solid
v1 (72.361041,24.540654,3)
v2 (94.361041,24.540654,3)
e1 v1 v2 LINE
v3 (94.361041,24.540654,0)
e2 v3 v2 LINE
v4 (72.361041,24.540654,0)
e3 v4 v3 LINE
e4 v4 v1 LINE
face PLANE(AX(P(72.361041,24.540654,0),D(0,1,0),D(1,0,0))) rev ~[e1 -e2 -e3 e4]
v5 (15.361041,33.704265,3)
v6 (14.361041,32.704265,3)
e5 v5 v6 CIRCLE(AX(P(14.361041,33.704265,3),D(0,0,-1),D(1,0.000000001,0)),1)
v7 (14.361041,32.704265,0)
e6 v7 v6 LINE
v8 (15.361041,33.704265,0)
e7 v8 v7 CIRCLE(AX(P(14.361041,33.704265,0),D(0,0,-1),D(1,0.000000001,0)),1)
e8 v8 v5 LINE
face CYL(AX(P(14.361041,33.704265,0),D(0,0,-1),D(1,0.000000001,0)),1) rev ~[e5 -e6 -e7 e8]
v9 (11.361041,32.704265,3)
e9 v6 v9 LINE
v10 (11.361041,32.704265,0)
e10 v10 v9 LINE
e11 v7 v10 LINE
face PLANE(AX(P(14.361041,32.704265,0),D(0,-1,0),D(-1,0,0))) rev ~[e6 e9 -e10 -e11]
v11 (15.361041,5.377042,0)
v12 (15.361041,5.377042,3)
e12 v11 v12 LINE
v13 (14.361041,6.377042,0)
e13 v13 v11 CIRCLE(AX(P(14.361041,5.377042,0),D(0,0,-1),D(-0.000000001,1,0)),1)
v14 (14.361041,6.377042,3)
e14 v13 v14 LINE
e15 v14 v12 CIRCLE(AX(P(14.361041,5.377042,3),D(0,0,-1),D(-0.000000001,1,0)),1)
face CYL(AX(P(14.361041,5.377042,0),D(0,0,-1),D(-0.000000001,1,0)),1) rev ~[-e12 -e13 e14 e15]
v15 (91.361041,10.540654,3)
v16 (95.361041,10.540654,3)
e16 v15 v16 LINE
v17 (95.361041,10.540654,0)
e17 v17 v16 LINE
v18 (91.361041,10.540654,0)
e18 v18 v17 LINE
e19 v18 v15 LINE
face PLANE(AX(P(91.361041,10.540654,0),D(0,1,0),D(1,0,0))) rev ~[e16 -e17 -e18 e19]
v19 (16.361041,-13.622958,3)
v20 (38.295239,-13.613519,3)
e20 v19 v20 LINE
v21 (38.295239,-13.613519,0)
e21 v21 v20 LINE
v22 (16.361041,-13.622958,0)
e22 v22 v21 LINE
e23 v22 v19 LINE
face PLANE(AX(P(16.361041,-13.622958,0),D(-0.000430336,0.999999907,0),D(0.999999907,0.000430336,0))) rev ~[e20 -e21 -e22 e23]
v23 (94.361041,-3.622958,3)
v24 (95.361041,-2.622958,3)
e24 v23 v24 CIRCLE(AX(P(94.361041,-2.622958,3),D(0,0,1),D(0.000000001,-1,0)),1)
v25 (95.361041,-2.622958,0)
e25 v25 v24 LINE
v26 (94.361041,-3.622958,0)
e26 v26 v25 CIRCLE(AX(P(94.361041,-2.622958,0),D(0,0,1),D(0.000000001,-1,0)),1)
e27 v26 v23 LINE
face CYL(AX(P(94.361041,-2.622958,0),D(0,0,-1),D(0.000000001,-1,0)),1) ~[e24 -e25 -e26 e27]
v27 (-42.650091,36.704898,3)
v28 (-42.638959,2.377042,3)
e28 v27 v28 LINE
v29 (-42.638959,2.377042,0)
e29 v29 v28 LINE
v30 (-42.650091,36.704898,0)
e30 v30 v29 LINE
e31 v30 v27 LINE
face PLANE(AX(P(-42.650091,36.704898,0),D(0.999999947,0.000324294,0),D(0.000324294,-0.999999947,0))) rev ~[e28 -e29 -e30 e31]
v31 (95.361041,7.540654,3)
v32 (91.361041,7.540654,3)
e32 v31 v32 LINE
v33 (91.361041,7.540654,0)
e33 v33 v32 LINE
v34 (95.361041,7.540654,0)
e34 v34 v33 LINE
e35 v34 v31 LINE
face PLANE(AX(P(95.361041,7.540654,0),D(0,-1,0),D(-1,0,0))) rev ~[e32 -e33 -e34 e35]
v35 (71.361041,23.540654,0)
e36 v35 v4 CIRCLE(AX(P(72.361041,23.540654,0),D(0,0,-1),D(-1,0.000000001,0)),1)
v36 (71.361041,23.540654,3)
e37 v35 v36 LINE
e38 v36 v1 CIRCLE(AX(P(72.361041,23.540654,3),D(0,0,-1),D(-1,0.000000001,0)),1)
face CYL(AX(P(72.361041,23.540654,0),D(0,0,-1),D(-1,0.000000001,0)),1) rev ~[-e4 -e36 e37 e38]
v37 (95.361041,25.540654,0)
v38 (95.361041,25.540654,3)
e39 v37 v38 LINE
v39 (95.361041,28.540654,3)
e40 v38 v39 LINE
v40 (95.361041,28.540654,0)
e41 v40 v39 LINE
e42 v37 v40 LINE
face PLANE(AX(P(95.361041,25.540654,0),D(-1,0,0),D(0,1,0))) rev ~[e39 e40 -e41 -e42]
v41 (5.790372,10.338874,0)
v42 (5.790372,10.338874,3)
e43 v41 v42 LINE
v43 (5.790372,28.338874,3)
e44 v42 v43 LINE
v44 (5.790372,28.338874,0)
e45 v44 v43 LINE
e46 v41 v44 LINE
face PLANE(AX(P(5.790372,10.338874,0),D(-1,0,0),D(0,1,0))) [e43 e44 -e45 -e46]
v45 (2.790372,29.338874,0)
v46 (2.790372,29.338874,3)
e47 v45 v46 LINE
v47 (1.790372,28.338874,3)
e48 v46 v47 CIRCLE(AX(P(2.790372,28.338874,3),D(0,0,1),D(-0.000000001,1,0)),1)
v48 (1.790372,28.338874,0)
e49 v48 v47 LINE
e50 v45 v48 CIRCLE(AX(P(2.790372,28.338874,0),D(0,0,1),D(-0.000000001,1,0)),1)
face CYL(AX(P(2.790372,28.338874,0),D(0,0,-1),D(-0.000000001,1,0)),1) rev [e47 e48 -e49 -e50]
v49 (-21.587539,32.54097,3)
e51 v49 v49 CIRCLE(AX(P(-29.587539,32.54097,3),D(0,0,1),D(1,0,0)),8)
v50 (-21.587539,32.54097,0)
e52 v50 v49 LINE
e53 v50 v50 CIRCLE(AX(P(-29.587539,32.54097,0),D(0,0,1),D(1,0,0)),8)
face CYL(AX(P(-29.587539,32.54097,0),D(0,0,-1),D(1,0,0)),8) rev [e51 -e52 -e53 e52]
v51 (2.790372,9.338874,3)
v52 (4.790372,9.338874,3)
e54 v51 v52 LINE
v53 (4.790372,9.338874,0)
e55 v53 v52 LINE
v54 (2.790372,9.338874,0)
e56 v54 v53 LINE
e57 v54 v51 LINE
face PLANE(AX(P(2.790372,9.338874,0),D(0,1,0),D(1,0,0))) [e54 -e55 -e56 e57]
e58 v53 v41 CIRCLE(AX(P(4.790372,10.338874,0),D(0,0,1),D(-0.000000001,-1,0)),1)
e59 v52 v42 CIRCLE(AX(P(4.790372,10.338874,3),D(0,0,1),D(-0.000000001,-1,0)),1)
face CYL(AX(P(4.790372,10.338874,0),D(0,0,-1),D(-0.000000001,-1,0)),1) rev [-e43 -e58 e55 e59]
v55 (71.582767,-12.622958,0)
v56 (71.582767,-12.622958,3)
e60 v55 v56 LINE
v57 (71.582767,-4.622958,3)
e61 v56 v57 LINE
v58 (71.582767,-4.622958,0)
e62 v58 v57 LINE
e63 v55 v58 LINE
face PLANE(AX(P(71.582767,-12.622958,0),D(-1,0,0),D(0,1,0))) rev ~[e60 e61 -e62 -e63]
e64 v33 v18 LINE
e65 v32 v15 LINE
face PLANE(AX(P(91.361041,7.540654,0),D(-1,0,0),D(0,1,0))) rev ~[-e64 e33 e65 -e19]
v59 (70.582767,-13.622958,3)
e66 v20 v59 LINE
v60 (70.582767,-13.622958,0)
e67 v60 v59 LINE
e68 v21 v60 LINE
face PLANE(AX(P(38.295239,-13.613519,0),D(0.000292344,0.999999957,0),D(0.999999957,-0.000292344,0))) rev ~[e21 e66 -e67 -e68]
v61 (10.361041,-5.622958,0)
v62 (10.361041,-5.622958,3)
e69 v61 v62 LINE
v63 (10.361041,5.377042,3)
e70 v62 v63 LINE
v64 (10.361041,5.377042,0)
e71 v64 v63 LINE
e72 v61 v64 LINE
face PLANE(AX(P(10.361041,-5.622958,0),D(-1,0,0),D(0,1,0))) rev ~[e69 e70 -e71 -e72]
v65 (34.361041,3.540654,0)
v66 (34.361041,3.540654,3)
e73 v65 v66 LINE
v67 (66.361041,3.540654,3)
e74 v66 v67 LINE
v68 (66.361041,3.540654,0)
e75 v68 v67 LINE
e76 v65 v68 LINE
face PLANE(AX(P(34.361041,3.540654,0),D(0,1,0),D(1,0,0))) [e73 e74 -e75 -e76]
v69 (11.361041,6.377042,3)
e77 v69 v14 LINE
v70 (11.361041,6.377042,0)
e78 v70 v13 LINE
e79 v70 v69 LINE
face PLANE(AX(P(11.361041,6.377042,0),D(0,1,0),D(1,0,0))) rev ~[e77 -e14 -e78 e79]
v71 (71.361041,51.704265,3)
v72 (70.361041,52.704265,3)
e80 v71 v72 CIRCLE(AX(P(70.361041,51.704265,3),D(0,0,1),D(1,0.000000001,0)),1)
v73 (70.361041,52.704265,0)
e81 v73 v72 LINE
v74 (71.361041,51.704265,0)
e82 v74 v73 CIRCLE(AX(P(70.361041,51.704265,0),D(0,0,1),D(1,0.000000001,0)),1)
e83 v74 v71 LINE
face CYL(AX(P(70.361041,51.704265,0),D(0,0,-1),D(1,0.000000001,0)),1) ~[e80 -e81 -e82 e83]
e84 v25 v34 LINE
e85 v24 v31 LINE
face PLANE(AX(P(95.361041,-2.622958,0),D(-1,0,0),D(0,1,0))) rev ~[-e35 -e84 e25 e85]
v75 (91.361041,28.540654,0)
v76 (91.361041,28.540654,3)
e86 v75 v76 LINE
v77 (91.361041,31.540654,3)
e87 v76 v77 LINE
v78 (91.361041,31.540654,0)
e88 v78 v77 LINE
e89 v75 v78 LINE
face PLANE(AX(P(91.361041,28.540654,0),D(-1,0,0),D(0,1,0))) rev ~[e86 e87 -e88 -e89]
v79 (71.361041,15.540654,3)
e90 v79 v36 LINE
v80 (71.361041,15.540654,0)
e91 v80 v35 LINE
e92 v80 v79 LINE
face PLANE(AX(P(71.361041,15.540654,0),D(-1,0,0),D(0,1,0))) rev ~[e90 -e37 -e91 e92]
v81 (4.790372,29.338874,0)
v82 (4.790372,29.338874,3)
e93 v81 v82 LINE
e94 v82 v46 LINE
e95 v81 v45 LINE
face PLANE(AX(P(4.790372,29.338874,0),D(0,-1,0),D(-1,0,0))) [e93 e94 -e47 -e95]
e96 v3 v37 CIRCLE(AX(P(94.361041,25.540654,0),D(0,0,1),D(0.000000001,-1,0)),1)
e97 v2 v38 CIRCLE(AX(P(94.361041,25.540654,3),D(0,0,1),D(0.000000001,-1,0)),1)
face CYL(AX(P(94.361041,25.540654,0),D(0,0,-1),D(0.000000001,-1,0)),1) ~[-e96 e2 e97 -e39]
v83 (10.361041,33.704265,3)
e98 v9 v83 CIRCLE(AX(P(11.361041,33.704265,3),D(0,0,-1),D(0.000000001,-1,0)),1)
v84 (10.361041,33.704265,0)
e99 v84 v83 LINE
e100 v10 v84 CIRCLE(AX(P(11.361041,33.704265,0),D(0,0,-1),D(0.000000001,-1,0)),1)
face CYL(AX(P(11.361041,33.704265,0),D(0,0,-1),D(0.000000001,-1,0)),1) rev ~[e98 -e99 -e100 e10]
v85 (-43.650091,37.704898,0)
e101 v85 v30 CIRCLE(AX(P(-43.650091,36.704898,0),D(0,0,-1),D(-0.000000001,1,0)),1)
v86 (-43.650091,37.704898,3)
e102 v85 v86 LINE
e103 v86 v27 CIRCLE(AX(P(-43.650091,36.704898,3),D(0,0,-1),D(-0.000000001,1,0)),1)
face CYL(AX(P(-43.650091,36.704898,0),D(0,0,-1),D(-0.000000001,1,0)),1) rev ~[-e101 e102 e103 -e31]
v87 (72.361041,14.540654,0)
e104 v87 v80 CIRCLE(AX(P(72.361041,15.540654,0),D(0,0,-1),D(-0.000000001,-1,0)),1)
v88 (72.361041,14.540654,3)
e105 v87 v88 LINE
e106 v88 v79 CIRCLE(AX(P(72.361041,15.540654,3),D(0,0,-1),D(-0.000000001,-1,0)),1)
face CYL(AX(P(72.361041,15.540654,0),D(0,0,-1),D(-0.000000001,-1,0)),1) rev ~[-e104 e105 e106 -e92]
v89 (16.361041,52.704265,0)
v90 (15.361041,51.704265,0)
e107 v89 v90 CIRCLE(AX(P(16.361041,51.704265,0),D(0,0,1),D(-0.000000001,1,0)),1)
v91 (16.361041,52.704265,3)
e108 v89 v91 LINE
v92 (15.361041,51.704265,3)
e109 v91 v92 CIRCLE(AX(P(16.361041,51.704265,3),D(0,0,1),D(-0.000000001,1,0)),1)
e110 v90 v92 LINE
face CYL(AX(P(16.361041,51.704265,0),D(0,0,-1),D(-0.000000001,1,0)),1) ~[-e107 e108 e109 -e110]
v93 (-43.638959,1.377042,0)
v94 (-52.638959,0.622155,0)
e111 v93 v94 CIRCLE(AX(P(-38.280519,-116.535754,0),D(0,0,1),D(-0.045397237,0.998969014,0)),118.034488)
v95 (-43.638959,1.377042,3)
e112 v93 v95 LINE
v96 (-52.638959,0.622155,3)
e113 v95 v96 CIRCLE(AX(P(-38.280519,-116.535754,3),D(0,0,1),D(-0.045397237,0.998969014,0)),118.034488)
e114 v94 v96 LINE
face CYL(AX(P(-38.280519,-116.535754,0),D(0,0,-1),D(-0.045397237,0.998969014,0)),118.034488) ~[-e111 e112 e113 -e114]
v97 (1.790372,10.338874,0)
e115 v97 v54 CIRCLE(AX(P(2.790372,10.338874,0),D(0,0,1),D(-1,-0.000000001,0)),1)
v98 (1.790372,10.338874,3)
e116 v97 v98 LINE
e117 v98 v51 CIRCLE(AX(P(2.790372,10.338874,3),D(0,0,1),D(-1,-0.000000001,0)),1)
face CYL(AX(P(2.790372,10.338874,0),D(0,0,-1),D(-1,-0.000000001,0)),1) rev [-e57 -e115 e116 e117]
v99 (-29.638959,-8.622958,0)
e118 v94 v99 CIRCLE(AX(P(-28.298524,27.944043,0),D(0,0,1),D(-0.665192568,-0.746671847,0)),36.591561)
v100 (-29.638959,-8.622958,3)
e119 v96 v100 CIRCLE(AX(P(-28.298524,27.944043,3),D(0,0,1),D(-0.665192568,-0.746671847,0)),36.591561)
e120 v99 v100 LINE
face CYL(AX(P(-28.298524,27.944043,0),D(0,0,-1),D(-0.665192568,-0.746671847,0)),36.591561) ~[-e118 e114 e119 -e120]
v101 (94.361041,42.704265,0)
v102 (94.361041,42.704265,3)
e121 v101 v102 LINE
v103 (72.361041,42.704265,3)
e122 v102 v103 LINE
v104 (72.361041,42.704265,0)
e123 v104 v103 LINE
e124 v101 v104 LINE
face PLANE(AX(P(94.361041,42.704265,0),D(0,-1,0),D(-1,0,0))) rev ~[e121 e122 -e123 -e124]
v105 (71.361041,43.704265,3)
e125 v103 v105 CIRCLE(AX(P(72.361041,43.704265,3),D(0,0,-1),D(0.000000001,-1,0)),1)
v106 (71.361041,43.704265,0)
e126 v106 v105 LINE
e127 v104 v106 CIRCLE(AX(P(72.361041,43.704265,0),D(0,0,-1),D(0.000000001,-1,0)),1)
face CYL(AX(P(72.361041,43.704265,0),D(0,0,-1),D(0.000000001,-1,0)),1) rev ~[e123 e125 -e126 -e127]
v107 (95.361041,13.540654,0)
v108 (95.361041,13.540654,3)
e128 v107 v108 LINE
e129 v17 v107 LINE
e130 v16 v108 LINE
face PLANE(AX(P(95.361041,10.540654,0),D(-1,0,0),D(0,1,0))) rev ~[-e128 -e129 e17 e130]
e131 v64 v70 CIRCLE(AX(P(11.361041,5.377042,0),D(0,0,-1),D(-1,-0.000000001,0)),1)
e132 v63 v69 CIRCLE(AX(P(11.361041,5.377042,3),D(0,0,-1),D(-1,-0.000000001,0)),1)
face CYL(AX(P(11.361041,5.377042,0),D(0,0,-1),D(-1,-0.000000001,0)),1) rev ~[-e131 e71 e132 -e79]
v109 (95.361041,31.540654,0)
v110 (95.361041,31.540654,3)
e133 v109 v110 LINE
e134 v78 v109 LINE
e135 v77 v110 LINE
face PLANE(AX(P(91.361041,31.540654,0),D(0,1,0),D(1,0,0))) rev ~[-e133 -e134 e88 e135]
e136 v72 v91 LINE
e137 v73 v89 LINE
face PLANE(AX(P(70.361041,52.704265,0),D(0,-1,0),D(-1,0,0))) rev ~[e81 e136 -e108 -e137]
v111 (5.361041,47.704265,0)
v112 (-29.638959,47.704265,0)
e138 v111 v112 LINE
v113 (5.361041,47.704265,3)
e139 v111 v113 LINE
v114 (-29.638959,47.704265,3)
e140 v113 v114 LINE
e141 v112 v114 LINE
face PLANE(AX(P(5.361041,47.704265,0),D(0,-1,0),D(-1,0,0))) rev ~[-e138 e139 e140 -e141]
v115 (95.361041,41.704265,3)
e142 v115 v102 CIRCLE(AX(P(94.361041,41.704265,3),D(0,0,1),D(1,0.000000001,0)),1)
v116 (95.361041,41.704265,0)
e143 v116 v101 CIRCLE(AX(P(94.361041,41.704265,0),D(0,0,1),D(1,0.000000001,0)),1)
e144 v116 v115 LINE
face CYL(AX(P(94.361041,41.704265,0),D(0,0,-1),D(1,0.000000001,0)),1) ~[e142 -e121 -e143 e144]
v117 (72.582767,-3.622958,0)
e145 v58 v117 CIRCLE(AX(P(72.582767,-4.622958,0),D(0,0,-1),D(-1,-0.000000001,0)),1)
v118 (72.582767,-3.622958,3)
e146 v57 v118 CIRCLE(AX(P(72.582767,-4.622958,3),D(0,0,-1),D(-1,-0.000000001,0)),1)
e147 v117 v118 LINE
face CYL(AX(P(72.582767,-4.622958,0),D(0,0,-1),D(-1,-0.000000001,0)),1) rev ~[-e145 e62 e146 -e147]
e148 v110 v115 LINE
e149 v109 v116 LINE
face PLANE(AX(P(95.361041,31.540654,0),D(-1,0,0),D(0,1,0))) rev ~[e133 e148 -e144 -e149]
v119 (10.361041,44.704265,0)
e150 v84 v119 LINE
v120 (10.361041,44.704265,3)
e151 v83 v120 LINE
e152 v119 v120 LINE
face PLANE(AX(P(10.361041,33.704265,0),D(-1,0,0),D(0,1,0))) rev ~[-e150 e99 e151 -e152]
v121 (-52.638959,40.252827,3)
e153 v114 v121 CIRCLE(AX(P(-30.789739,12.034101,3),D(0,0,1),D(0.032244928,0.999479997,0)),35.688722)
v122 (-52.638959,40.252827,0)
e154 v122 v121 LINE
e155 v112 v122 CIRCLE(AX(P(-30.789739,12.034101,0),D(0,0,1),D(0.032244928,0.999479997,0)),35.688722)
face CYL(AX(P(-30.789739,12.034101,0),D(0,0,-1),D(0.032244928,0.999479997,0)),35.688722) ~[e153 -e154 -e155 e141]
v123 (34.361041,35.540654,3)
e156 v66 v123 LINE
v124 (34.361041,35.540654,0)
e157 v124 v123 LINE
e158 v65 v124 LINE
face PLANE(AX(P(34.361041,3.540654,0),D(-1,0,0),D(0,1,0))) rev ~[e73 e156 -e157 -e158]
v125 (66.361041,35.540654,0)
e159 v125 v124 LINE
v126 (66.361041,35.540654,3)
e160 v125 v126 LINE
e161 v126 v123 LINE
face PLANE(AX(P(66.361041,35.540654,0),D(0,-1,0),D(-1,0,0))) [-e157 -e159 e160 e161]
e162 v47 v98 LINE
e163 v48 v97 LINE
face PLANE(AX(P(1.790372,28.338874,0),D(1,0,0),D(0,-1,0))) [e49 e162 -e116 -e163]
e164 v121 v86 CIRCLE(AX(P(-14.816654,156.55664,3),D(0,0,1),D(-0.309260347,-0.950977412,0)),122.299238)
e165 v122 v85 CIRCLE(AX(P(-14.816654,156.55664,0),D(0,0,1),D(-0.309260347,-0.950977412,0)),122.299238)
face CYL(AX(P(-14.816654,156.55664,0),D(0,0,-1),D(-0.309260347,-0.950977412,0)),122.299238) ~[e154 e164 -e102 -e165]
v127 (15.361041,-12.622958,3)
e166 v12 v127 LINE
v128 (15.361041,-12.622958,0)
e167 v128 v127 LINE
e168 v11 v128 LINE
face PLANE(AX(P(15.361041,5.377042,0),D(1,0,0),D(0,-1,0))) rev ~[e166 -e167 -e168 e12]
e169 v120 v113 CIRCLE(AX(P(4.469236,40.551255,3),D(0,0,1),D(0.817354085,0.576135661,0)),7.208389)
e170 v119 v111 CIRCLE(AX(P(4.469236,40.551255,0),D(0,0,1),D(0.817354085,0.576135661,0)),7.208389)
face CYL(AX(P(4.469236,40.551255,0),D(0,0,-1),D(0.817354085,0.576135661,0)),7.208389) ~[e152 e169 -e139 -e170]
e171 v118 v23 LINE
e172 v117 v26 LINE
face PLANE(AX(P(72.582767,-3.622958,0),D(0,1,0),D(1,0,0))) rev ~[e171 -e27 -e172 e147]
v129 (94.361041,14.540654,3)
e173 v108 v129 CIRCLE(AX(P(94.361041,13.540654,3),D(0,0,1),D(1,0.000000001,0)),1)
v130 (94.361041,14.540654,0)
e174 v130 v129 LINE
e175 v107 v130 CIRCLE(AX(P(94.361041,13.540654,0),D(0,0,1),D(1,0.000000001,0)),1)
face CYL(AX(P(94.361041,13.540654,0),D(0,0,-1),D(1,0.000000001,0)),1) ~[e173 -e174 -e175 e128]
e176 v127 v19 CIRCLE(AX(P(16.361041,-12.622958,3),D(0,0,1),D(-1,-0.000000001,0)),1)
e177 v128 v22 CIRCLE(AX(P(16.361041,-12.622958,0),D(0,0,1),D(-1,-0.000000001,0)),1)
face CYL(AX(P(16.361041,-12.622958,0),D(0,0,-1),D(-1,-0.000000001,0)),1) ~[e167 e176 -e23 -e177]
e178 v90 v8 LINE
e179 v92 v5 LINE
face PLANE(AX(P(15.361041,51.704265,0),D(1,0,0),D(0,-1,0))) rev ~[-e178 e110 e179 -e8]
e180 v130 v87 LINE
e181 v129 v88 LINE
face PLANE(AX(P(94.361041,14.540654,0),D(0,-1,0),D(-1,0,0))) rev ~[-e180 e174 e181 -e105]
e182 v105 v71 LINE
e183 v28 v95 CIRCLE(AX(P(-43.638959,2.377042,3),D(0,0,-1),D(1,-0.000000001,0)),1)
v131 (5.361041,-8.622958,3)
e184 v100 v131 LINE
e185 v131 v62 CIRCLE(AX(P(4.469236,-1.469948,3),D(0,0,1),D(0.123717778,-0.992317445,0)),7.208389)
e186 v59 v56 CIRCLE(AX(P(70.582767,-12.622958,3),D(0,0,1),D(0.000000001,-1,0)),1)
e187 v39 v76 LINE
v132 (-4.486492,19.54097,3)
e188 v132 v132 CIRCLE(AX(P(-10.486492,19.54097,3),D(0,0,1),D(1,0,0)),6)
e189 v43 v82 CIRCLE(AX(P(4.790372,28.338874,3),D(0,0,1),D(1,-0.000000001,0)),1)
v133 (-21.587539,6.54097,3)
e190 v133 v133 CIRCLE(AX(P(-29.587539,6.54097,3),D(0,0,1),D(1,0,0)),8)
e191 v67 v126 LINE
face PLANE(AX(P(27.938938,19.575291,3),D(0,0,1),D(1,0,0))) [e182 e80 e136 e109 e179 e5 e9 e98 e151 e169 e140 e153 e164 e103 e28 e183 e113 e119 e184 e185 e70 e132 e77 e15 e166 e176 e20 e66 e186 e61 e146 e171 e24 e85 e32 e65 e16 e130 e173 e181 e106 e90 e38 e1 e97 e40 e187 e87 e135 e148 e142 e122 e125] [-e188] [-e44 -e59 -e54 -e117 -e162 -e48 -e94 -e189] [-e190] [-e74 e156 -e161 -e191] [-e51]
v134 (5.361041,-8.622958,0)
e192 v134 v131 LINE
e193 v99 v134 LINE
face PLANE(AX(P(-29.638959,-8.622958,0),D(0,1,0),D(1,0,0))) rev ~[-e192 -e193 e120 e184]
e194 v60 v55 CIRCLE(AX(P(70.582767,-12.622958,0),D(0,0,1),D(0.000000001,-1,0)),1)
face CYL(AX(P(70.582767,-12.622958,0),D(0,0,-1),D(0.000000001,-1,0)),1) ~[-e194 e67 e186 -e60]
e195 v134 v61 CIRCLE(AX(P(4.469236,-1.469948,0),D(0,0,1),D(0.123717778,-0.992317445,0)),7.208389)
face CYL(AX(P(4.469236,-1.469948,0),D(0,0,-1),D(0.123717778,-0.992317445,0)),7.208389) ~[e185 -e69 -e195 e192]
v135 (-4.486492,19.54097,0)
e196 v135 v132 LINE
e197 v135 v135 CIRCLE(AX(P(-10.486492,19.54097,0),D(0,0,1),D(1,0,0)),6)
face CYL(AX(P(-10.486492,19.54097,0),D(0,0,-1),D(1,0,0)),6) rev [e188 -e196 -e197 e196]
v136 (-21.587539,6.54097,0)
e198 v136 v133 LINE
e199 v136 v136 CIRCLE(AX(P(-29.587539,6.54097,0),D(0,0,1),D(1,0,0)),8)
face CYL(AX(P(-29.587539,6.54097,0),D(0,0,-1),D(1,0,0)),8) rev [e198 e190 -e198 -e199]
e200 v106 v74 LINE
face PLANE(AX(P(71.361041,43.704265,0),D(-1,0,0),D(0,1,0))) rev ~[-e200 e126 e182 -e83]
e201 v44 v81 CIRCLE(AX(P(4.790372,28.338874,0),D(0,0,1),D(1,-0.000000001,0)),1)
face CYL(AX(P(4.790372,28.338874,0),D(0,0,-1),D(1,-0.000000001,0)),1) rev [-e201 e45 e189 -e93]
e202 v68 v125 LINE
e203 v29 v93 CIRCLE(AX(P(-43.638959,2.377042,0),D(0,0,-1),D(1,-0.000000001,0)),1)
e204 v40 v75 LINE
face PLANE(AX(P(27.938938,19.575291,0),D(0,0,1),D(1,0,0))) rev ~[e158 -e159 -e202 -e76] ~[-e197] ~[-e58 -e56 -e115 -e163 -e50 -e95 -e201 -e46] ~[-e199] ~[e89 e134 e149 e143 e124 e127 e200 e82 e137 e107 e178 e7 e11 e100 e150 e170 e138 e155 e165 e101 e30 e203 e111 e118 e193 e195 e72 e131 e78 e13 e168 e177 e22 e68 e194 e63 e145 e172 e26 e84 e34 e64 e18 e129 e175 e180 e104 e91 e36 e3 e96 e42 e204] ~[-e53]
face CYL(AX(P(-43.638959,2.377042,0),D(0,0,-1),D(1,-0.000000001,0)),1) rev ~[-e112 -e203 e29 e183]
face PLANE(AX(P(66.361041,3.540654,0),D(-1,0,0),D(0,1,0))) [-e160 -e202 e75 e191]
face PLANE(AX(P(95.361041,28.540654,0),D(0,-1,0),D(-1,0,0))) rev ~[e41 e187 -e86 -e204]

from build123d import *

# Parameters (mm, degrees)
MODEL_R                 = 8
MODEL_R_2               = 6
SALIENTE_EXTRUIR1_DEPTH = 3


with BuildPart() as part:
    # Model → Saliente-Extruir1 (new body)
    with BuildSketch(Plane.XY):
        with BuildLine():
            Line((-29.638958592, -8.6229578), (5.361041408, -8.6229578))
            ThreePointArc((5.361041408, -8.6229578), (8.177920898, -7.651090282), (10.361041408, -5.6229578))
            Line((10.361041408, -5.6229578), (10.361041408, 5.3770422))
            ThreePointArc((10.361041408, 5.3770422), (10.653934627, 6.084148982), (11.361041408, 6.3770422))
            Line((11.361041408, 6.3770422), (14.361041408, 6.3770422))
            ThreePointArc((14.361041408, 6.3770422), (15.068148189, 6.084148982), (15.361041408, 5.3770422))
            Line((15.361041408, 5.3770422), (15.361041408, -12.6229578))
            ThreePointArc((15.361041408, -12.6229578), (15.653934627, -13.330064581), (16.361041408, -13.6229578))
            Line((16.361041408, -13.6229578), (38.295238995, -13.613518735))
            Line((38.295238995, -13.613518735), (70.582767323, -13.6229578))
            ThreePointArc((70.582767323, -13.6229578), (71.289874104, -13.330064581), (71.582767323, -12.6229578))
            Line((71.582767323, -12.6229578), (71.582767323, -4.6229578))
            ThreePointArc((71.582767323, -4.6229578), (71.875660542, -3.915851018), (72.582767323, -3.6229578))
            Line((72.582767323, -3.6229578), (94.361041408, -3.6229578))
            ThreePointArc((94.361041408, -3.6229578), (95.068148189, -3.330064581), (95.361041408, -2.6229578))
            Line((95.361041408, -2.6229578), (95.361041408, 7.540653568))
            Line((95.361041408, 7.540653568), (91.361041408, 7.540653568))
            Line((91.361041408, 7.540653568), (91.361041408, 10.540653568))
            Line((91.361041408, 10.540653568), (95.361041408, 10.540653568))
            Line((95.361041408, 10.540653568), (95.361041408, 13.540653568))
            ThreePointArc((95.361041408, 13.540653568), (95.068148189, 14.247760349), (94.361041408, 14.540653568))
            Line((94.361041408, 14.540653568), (72.361041408, 14.540653568))
            ThreePointArc((72.361041408, 14.540653568), (71.653934627, 14.833546787), (71.361041408, 15.540653568))
            Line((71.361041408, 15.540653568), (71.361041408, 23.540653568))
            ThreePointArc((71.361041408, 23.540653568), (71.653934627, 24.247760349), (72.361041408, 24.540653568))
            Line((72.361041408, 24.540653568), (94.361041408, 24.540653568))
            ThreePointArc((94.361041408, 24.540653568), (95.068148189, 24.833546787), (95.361041408, 25.540653568))
            Line((95.361041408, 25.540653568), (95.361041408, 28.540653568))
            Line((95.361041408, 28.540653568), (91.361041408, 28.540653568))
            Line((91.361041408, 28.540653568), (91.361041408, 31.540653568))
            Line((91.361041408, 31.540653568), (95.361041408, 31.540653568))
            Line((95.361041408, 31.540653568), (95.361041408, 41.704264936))
            ThreePointArc((95.361041408, 41.704264936), (95.068148189, 42.411371717), (94.361041408, 42.704264936))
            Line((94.361041408, 42.704264936), (72.361041408, 42.704264936))
            ThreePointArc((72.361041408, 42.704264936), (71.653934627, 42.997158154), (71.361041408, 43.704264936))
            Line((71.361041408, 43.704264936), (71.361041408, 51.704264936))
            ThreePointArc((71.361041408, 51.704264936), (71.068148189, 52.411371717), (70.361041408, 52.704264936))
            Line((70.361041408, 52.704264936), (45.361041408, 52.704264936))
            Line((45.361041408, 52.704264936), (16.361041408, 52.704264936))
            ThreePointArc((16.361041408, 52.704264936), (15.653934627, 52.411371717), (15.361041408, 51.704264936))
            Line((15.361041408, 51.704264936), (15.361041408, 33.704264936))
            ThreePointArc((15.361041408, 33.704264936), (15.068148189, 32.997158154), (14.361041408, 32.704264936))
            Line((14.361041408, 32.704264936), (11.361041408, 32.704264936))
            ThreePointArc((11.361041408, 32.704264936), (10.653934627, 32.997158154), (10.361041408, 33.704264936))
            Line((10.361041408, 33.704264936), (10.361041408, 44.704264936))
            ThreePointArc((10.361041408, 44.704264936), (8.177920898, 46.732397418), (5.361041408, 47.704264936))
            Line((5.361041408, 47.704264936), (-29.638958592, 47.704264936))
            ThreePointArc((-29.638958592, 47.704264936), (-41.789163023, 45.985500923), (-52.638958592, 40.252826715))
            ThreePointArc((-52.638958592, 40.252826715), (-48.16886463, 38.892993283), (-43.6500909, 37.704897764))
            ThreePointArc((-43.6500909, 37.704897764), (-42.942984119, 37.412004546), (-42.6500909, 36.704897764))
            Line((-42.6500909, 36.704897764), (-42.638958592, 2.3770422))
            ThreePointArc((-42.638958592, 2.3770422), (-42.931851811, 1.669935419), (-43.638958592, 1.3770422))
            ThreePointArc((-43.638958592, 1.3770422), (-48.146181418, 1.085711248), (-52.638958592, 0.622154798))
            ThreePointArc((-52.638958592, 0.622154798), (-41.945677107, -6.007356598), (-29.638958592, -8.6229578))
        make_face()
        with Locations((-29.587538582, 32.540969982)):
            Circle(MODEL_R, mode=Mode.SUBTRACT)
        with Locations((-10.486492238, 19.540969982)):
            Circle(MODEL_R_2, mode=Mode.SUBTRACT)
        with Locations((-29.587538582, 6.540969982)):
            Circle(MODEL_R, mode=Mode.SUBTRACT)
        Polygon((34.361041408, 35.540653568), (34.361041408, 20.040653568), (34.361041408, 3.540653568), (66.361041408, 3.540653568), (66.361041408, 35.540653568), align=None, mode=Mode.SUBTRACT)
        with BuildLine():
            Line((4.790372378, 29.338873837), (2.790372378, 29.338873837))
            ThreePointArc((2.790372378, 29.338873837), (2.083265597, 29.045980618), (1.790372378, 28.338873837))
            Line((1.790372378, 28.338873837), (1.790372378, 10.338873837))
            ThreePointArc((1.790372378, 10.338873837), (2.083265597, 9.631767056), (2.790372378, 9.338873837))
            Line((2.790372378, 9.338873837), (4.790372378, 9.338873837))
            ThreePointArc((4.790372378, 9.338873837), (5.49747916, 9.631767056), (5.790372378, 10.338873837))
            Line((5.790372378, 10.338873837), (5.790372378, 28.338873837))
            ThreePointArc((5.790372378, 28.338873837), (5.49747916, 29.045980618), (4.790372378, 29.338873837))
        make_face(mode=Mode.SUBTRACT)
    extrude(amount=SALIENTE_EXTRUIR1_DEPTH)


solid = part.part
